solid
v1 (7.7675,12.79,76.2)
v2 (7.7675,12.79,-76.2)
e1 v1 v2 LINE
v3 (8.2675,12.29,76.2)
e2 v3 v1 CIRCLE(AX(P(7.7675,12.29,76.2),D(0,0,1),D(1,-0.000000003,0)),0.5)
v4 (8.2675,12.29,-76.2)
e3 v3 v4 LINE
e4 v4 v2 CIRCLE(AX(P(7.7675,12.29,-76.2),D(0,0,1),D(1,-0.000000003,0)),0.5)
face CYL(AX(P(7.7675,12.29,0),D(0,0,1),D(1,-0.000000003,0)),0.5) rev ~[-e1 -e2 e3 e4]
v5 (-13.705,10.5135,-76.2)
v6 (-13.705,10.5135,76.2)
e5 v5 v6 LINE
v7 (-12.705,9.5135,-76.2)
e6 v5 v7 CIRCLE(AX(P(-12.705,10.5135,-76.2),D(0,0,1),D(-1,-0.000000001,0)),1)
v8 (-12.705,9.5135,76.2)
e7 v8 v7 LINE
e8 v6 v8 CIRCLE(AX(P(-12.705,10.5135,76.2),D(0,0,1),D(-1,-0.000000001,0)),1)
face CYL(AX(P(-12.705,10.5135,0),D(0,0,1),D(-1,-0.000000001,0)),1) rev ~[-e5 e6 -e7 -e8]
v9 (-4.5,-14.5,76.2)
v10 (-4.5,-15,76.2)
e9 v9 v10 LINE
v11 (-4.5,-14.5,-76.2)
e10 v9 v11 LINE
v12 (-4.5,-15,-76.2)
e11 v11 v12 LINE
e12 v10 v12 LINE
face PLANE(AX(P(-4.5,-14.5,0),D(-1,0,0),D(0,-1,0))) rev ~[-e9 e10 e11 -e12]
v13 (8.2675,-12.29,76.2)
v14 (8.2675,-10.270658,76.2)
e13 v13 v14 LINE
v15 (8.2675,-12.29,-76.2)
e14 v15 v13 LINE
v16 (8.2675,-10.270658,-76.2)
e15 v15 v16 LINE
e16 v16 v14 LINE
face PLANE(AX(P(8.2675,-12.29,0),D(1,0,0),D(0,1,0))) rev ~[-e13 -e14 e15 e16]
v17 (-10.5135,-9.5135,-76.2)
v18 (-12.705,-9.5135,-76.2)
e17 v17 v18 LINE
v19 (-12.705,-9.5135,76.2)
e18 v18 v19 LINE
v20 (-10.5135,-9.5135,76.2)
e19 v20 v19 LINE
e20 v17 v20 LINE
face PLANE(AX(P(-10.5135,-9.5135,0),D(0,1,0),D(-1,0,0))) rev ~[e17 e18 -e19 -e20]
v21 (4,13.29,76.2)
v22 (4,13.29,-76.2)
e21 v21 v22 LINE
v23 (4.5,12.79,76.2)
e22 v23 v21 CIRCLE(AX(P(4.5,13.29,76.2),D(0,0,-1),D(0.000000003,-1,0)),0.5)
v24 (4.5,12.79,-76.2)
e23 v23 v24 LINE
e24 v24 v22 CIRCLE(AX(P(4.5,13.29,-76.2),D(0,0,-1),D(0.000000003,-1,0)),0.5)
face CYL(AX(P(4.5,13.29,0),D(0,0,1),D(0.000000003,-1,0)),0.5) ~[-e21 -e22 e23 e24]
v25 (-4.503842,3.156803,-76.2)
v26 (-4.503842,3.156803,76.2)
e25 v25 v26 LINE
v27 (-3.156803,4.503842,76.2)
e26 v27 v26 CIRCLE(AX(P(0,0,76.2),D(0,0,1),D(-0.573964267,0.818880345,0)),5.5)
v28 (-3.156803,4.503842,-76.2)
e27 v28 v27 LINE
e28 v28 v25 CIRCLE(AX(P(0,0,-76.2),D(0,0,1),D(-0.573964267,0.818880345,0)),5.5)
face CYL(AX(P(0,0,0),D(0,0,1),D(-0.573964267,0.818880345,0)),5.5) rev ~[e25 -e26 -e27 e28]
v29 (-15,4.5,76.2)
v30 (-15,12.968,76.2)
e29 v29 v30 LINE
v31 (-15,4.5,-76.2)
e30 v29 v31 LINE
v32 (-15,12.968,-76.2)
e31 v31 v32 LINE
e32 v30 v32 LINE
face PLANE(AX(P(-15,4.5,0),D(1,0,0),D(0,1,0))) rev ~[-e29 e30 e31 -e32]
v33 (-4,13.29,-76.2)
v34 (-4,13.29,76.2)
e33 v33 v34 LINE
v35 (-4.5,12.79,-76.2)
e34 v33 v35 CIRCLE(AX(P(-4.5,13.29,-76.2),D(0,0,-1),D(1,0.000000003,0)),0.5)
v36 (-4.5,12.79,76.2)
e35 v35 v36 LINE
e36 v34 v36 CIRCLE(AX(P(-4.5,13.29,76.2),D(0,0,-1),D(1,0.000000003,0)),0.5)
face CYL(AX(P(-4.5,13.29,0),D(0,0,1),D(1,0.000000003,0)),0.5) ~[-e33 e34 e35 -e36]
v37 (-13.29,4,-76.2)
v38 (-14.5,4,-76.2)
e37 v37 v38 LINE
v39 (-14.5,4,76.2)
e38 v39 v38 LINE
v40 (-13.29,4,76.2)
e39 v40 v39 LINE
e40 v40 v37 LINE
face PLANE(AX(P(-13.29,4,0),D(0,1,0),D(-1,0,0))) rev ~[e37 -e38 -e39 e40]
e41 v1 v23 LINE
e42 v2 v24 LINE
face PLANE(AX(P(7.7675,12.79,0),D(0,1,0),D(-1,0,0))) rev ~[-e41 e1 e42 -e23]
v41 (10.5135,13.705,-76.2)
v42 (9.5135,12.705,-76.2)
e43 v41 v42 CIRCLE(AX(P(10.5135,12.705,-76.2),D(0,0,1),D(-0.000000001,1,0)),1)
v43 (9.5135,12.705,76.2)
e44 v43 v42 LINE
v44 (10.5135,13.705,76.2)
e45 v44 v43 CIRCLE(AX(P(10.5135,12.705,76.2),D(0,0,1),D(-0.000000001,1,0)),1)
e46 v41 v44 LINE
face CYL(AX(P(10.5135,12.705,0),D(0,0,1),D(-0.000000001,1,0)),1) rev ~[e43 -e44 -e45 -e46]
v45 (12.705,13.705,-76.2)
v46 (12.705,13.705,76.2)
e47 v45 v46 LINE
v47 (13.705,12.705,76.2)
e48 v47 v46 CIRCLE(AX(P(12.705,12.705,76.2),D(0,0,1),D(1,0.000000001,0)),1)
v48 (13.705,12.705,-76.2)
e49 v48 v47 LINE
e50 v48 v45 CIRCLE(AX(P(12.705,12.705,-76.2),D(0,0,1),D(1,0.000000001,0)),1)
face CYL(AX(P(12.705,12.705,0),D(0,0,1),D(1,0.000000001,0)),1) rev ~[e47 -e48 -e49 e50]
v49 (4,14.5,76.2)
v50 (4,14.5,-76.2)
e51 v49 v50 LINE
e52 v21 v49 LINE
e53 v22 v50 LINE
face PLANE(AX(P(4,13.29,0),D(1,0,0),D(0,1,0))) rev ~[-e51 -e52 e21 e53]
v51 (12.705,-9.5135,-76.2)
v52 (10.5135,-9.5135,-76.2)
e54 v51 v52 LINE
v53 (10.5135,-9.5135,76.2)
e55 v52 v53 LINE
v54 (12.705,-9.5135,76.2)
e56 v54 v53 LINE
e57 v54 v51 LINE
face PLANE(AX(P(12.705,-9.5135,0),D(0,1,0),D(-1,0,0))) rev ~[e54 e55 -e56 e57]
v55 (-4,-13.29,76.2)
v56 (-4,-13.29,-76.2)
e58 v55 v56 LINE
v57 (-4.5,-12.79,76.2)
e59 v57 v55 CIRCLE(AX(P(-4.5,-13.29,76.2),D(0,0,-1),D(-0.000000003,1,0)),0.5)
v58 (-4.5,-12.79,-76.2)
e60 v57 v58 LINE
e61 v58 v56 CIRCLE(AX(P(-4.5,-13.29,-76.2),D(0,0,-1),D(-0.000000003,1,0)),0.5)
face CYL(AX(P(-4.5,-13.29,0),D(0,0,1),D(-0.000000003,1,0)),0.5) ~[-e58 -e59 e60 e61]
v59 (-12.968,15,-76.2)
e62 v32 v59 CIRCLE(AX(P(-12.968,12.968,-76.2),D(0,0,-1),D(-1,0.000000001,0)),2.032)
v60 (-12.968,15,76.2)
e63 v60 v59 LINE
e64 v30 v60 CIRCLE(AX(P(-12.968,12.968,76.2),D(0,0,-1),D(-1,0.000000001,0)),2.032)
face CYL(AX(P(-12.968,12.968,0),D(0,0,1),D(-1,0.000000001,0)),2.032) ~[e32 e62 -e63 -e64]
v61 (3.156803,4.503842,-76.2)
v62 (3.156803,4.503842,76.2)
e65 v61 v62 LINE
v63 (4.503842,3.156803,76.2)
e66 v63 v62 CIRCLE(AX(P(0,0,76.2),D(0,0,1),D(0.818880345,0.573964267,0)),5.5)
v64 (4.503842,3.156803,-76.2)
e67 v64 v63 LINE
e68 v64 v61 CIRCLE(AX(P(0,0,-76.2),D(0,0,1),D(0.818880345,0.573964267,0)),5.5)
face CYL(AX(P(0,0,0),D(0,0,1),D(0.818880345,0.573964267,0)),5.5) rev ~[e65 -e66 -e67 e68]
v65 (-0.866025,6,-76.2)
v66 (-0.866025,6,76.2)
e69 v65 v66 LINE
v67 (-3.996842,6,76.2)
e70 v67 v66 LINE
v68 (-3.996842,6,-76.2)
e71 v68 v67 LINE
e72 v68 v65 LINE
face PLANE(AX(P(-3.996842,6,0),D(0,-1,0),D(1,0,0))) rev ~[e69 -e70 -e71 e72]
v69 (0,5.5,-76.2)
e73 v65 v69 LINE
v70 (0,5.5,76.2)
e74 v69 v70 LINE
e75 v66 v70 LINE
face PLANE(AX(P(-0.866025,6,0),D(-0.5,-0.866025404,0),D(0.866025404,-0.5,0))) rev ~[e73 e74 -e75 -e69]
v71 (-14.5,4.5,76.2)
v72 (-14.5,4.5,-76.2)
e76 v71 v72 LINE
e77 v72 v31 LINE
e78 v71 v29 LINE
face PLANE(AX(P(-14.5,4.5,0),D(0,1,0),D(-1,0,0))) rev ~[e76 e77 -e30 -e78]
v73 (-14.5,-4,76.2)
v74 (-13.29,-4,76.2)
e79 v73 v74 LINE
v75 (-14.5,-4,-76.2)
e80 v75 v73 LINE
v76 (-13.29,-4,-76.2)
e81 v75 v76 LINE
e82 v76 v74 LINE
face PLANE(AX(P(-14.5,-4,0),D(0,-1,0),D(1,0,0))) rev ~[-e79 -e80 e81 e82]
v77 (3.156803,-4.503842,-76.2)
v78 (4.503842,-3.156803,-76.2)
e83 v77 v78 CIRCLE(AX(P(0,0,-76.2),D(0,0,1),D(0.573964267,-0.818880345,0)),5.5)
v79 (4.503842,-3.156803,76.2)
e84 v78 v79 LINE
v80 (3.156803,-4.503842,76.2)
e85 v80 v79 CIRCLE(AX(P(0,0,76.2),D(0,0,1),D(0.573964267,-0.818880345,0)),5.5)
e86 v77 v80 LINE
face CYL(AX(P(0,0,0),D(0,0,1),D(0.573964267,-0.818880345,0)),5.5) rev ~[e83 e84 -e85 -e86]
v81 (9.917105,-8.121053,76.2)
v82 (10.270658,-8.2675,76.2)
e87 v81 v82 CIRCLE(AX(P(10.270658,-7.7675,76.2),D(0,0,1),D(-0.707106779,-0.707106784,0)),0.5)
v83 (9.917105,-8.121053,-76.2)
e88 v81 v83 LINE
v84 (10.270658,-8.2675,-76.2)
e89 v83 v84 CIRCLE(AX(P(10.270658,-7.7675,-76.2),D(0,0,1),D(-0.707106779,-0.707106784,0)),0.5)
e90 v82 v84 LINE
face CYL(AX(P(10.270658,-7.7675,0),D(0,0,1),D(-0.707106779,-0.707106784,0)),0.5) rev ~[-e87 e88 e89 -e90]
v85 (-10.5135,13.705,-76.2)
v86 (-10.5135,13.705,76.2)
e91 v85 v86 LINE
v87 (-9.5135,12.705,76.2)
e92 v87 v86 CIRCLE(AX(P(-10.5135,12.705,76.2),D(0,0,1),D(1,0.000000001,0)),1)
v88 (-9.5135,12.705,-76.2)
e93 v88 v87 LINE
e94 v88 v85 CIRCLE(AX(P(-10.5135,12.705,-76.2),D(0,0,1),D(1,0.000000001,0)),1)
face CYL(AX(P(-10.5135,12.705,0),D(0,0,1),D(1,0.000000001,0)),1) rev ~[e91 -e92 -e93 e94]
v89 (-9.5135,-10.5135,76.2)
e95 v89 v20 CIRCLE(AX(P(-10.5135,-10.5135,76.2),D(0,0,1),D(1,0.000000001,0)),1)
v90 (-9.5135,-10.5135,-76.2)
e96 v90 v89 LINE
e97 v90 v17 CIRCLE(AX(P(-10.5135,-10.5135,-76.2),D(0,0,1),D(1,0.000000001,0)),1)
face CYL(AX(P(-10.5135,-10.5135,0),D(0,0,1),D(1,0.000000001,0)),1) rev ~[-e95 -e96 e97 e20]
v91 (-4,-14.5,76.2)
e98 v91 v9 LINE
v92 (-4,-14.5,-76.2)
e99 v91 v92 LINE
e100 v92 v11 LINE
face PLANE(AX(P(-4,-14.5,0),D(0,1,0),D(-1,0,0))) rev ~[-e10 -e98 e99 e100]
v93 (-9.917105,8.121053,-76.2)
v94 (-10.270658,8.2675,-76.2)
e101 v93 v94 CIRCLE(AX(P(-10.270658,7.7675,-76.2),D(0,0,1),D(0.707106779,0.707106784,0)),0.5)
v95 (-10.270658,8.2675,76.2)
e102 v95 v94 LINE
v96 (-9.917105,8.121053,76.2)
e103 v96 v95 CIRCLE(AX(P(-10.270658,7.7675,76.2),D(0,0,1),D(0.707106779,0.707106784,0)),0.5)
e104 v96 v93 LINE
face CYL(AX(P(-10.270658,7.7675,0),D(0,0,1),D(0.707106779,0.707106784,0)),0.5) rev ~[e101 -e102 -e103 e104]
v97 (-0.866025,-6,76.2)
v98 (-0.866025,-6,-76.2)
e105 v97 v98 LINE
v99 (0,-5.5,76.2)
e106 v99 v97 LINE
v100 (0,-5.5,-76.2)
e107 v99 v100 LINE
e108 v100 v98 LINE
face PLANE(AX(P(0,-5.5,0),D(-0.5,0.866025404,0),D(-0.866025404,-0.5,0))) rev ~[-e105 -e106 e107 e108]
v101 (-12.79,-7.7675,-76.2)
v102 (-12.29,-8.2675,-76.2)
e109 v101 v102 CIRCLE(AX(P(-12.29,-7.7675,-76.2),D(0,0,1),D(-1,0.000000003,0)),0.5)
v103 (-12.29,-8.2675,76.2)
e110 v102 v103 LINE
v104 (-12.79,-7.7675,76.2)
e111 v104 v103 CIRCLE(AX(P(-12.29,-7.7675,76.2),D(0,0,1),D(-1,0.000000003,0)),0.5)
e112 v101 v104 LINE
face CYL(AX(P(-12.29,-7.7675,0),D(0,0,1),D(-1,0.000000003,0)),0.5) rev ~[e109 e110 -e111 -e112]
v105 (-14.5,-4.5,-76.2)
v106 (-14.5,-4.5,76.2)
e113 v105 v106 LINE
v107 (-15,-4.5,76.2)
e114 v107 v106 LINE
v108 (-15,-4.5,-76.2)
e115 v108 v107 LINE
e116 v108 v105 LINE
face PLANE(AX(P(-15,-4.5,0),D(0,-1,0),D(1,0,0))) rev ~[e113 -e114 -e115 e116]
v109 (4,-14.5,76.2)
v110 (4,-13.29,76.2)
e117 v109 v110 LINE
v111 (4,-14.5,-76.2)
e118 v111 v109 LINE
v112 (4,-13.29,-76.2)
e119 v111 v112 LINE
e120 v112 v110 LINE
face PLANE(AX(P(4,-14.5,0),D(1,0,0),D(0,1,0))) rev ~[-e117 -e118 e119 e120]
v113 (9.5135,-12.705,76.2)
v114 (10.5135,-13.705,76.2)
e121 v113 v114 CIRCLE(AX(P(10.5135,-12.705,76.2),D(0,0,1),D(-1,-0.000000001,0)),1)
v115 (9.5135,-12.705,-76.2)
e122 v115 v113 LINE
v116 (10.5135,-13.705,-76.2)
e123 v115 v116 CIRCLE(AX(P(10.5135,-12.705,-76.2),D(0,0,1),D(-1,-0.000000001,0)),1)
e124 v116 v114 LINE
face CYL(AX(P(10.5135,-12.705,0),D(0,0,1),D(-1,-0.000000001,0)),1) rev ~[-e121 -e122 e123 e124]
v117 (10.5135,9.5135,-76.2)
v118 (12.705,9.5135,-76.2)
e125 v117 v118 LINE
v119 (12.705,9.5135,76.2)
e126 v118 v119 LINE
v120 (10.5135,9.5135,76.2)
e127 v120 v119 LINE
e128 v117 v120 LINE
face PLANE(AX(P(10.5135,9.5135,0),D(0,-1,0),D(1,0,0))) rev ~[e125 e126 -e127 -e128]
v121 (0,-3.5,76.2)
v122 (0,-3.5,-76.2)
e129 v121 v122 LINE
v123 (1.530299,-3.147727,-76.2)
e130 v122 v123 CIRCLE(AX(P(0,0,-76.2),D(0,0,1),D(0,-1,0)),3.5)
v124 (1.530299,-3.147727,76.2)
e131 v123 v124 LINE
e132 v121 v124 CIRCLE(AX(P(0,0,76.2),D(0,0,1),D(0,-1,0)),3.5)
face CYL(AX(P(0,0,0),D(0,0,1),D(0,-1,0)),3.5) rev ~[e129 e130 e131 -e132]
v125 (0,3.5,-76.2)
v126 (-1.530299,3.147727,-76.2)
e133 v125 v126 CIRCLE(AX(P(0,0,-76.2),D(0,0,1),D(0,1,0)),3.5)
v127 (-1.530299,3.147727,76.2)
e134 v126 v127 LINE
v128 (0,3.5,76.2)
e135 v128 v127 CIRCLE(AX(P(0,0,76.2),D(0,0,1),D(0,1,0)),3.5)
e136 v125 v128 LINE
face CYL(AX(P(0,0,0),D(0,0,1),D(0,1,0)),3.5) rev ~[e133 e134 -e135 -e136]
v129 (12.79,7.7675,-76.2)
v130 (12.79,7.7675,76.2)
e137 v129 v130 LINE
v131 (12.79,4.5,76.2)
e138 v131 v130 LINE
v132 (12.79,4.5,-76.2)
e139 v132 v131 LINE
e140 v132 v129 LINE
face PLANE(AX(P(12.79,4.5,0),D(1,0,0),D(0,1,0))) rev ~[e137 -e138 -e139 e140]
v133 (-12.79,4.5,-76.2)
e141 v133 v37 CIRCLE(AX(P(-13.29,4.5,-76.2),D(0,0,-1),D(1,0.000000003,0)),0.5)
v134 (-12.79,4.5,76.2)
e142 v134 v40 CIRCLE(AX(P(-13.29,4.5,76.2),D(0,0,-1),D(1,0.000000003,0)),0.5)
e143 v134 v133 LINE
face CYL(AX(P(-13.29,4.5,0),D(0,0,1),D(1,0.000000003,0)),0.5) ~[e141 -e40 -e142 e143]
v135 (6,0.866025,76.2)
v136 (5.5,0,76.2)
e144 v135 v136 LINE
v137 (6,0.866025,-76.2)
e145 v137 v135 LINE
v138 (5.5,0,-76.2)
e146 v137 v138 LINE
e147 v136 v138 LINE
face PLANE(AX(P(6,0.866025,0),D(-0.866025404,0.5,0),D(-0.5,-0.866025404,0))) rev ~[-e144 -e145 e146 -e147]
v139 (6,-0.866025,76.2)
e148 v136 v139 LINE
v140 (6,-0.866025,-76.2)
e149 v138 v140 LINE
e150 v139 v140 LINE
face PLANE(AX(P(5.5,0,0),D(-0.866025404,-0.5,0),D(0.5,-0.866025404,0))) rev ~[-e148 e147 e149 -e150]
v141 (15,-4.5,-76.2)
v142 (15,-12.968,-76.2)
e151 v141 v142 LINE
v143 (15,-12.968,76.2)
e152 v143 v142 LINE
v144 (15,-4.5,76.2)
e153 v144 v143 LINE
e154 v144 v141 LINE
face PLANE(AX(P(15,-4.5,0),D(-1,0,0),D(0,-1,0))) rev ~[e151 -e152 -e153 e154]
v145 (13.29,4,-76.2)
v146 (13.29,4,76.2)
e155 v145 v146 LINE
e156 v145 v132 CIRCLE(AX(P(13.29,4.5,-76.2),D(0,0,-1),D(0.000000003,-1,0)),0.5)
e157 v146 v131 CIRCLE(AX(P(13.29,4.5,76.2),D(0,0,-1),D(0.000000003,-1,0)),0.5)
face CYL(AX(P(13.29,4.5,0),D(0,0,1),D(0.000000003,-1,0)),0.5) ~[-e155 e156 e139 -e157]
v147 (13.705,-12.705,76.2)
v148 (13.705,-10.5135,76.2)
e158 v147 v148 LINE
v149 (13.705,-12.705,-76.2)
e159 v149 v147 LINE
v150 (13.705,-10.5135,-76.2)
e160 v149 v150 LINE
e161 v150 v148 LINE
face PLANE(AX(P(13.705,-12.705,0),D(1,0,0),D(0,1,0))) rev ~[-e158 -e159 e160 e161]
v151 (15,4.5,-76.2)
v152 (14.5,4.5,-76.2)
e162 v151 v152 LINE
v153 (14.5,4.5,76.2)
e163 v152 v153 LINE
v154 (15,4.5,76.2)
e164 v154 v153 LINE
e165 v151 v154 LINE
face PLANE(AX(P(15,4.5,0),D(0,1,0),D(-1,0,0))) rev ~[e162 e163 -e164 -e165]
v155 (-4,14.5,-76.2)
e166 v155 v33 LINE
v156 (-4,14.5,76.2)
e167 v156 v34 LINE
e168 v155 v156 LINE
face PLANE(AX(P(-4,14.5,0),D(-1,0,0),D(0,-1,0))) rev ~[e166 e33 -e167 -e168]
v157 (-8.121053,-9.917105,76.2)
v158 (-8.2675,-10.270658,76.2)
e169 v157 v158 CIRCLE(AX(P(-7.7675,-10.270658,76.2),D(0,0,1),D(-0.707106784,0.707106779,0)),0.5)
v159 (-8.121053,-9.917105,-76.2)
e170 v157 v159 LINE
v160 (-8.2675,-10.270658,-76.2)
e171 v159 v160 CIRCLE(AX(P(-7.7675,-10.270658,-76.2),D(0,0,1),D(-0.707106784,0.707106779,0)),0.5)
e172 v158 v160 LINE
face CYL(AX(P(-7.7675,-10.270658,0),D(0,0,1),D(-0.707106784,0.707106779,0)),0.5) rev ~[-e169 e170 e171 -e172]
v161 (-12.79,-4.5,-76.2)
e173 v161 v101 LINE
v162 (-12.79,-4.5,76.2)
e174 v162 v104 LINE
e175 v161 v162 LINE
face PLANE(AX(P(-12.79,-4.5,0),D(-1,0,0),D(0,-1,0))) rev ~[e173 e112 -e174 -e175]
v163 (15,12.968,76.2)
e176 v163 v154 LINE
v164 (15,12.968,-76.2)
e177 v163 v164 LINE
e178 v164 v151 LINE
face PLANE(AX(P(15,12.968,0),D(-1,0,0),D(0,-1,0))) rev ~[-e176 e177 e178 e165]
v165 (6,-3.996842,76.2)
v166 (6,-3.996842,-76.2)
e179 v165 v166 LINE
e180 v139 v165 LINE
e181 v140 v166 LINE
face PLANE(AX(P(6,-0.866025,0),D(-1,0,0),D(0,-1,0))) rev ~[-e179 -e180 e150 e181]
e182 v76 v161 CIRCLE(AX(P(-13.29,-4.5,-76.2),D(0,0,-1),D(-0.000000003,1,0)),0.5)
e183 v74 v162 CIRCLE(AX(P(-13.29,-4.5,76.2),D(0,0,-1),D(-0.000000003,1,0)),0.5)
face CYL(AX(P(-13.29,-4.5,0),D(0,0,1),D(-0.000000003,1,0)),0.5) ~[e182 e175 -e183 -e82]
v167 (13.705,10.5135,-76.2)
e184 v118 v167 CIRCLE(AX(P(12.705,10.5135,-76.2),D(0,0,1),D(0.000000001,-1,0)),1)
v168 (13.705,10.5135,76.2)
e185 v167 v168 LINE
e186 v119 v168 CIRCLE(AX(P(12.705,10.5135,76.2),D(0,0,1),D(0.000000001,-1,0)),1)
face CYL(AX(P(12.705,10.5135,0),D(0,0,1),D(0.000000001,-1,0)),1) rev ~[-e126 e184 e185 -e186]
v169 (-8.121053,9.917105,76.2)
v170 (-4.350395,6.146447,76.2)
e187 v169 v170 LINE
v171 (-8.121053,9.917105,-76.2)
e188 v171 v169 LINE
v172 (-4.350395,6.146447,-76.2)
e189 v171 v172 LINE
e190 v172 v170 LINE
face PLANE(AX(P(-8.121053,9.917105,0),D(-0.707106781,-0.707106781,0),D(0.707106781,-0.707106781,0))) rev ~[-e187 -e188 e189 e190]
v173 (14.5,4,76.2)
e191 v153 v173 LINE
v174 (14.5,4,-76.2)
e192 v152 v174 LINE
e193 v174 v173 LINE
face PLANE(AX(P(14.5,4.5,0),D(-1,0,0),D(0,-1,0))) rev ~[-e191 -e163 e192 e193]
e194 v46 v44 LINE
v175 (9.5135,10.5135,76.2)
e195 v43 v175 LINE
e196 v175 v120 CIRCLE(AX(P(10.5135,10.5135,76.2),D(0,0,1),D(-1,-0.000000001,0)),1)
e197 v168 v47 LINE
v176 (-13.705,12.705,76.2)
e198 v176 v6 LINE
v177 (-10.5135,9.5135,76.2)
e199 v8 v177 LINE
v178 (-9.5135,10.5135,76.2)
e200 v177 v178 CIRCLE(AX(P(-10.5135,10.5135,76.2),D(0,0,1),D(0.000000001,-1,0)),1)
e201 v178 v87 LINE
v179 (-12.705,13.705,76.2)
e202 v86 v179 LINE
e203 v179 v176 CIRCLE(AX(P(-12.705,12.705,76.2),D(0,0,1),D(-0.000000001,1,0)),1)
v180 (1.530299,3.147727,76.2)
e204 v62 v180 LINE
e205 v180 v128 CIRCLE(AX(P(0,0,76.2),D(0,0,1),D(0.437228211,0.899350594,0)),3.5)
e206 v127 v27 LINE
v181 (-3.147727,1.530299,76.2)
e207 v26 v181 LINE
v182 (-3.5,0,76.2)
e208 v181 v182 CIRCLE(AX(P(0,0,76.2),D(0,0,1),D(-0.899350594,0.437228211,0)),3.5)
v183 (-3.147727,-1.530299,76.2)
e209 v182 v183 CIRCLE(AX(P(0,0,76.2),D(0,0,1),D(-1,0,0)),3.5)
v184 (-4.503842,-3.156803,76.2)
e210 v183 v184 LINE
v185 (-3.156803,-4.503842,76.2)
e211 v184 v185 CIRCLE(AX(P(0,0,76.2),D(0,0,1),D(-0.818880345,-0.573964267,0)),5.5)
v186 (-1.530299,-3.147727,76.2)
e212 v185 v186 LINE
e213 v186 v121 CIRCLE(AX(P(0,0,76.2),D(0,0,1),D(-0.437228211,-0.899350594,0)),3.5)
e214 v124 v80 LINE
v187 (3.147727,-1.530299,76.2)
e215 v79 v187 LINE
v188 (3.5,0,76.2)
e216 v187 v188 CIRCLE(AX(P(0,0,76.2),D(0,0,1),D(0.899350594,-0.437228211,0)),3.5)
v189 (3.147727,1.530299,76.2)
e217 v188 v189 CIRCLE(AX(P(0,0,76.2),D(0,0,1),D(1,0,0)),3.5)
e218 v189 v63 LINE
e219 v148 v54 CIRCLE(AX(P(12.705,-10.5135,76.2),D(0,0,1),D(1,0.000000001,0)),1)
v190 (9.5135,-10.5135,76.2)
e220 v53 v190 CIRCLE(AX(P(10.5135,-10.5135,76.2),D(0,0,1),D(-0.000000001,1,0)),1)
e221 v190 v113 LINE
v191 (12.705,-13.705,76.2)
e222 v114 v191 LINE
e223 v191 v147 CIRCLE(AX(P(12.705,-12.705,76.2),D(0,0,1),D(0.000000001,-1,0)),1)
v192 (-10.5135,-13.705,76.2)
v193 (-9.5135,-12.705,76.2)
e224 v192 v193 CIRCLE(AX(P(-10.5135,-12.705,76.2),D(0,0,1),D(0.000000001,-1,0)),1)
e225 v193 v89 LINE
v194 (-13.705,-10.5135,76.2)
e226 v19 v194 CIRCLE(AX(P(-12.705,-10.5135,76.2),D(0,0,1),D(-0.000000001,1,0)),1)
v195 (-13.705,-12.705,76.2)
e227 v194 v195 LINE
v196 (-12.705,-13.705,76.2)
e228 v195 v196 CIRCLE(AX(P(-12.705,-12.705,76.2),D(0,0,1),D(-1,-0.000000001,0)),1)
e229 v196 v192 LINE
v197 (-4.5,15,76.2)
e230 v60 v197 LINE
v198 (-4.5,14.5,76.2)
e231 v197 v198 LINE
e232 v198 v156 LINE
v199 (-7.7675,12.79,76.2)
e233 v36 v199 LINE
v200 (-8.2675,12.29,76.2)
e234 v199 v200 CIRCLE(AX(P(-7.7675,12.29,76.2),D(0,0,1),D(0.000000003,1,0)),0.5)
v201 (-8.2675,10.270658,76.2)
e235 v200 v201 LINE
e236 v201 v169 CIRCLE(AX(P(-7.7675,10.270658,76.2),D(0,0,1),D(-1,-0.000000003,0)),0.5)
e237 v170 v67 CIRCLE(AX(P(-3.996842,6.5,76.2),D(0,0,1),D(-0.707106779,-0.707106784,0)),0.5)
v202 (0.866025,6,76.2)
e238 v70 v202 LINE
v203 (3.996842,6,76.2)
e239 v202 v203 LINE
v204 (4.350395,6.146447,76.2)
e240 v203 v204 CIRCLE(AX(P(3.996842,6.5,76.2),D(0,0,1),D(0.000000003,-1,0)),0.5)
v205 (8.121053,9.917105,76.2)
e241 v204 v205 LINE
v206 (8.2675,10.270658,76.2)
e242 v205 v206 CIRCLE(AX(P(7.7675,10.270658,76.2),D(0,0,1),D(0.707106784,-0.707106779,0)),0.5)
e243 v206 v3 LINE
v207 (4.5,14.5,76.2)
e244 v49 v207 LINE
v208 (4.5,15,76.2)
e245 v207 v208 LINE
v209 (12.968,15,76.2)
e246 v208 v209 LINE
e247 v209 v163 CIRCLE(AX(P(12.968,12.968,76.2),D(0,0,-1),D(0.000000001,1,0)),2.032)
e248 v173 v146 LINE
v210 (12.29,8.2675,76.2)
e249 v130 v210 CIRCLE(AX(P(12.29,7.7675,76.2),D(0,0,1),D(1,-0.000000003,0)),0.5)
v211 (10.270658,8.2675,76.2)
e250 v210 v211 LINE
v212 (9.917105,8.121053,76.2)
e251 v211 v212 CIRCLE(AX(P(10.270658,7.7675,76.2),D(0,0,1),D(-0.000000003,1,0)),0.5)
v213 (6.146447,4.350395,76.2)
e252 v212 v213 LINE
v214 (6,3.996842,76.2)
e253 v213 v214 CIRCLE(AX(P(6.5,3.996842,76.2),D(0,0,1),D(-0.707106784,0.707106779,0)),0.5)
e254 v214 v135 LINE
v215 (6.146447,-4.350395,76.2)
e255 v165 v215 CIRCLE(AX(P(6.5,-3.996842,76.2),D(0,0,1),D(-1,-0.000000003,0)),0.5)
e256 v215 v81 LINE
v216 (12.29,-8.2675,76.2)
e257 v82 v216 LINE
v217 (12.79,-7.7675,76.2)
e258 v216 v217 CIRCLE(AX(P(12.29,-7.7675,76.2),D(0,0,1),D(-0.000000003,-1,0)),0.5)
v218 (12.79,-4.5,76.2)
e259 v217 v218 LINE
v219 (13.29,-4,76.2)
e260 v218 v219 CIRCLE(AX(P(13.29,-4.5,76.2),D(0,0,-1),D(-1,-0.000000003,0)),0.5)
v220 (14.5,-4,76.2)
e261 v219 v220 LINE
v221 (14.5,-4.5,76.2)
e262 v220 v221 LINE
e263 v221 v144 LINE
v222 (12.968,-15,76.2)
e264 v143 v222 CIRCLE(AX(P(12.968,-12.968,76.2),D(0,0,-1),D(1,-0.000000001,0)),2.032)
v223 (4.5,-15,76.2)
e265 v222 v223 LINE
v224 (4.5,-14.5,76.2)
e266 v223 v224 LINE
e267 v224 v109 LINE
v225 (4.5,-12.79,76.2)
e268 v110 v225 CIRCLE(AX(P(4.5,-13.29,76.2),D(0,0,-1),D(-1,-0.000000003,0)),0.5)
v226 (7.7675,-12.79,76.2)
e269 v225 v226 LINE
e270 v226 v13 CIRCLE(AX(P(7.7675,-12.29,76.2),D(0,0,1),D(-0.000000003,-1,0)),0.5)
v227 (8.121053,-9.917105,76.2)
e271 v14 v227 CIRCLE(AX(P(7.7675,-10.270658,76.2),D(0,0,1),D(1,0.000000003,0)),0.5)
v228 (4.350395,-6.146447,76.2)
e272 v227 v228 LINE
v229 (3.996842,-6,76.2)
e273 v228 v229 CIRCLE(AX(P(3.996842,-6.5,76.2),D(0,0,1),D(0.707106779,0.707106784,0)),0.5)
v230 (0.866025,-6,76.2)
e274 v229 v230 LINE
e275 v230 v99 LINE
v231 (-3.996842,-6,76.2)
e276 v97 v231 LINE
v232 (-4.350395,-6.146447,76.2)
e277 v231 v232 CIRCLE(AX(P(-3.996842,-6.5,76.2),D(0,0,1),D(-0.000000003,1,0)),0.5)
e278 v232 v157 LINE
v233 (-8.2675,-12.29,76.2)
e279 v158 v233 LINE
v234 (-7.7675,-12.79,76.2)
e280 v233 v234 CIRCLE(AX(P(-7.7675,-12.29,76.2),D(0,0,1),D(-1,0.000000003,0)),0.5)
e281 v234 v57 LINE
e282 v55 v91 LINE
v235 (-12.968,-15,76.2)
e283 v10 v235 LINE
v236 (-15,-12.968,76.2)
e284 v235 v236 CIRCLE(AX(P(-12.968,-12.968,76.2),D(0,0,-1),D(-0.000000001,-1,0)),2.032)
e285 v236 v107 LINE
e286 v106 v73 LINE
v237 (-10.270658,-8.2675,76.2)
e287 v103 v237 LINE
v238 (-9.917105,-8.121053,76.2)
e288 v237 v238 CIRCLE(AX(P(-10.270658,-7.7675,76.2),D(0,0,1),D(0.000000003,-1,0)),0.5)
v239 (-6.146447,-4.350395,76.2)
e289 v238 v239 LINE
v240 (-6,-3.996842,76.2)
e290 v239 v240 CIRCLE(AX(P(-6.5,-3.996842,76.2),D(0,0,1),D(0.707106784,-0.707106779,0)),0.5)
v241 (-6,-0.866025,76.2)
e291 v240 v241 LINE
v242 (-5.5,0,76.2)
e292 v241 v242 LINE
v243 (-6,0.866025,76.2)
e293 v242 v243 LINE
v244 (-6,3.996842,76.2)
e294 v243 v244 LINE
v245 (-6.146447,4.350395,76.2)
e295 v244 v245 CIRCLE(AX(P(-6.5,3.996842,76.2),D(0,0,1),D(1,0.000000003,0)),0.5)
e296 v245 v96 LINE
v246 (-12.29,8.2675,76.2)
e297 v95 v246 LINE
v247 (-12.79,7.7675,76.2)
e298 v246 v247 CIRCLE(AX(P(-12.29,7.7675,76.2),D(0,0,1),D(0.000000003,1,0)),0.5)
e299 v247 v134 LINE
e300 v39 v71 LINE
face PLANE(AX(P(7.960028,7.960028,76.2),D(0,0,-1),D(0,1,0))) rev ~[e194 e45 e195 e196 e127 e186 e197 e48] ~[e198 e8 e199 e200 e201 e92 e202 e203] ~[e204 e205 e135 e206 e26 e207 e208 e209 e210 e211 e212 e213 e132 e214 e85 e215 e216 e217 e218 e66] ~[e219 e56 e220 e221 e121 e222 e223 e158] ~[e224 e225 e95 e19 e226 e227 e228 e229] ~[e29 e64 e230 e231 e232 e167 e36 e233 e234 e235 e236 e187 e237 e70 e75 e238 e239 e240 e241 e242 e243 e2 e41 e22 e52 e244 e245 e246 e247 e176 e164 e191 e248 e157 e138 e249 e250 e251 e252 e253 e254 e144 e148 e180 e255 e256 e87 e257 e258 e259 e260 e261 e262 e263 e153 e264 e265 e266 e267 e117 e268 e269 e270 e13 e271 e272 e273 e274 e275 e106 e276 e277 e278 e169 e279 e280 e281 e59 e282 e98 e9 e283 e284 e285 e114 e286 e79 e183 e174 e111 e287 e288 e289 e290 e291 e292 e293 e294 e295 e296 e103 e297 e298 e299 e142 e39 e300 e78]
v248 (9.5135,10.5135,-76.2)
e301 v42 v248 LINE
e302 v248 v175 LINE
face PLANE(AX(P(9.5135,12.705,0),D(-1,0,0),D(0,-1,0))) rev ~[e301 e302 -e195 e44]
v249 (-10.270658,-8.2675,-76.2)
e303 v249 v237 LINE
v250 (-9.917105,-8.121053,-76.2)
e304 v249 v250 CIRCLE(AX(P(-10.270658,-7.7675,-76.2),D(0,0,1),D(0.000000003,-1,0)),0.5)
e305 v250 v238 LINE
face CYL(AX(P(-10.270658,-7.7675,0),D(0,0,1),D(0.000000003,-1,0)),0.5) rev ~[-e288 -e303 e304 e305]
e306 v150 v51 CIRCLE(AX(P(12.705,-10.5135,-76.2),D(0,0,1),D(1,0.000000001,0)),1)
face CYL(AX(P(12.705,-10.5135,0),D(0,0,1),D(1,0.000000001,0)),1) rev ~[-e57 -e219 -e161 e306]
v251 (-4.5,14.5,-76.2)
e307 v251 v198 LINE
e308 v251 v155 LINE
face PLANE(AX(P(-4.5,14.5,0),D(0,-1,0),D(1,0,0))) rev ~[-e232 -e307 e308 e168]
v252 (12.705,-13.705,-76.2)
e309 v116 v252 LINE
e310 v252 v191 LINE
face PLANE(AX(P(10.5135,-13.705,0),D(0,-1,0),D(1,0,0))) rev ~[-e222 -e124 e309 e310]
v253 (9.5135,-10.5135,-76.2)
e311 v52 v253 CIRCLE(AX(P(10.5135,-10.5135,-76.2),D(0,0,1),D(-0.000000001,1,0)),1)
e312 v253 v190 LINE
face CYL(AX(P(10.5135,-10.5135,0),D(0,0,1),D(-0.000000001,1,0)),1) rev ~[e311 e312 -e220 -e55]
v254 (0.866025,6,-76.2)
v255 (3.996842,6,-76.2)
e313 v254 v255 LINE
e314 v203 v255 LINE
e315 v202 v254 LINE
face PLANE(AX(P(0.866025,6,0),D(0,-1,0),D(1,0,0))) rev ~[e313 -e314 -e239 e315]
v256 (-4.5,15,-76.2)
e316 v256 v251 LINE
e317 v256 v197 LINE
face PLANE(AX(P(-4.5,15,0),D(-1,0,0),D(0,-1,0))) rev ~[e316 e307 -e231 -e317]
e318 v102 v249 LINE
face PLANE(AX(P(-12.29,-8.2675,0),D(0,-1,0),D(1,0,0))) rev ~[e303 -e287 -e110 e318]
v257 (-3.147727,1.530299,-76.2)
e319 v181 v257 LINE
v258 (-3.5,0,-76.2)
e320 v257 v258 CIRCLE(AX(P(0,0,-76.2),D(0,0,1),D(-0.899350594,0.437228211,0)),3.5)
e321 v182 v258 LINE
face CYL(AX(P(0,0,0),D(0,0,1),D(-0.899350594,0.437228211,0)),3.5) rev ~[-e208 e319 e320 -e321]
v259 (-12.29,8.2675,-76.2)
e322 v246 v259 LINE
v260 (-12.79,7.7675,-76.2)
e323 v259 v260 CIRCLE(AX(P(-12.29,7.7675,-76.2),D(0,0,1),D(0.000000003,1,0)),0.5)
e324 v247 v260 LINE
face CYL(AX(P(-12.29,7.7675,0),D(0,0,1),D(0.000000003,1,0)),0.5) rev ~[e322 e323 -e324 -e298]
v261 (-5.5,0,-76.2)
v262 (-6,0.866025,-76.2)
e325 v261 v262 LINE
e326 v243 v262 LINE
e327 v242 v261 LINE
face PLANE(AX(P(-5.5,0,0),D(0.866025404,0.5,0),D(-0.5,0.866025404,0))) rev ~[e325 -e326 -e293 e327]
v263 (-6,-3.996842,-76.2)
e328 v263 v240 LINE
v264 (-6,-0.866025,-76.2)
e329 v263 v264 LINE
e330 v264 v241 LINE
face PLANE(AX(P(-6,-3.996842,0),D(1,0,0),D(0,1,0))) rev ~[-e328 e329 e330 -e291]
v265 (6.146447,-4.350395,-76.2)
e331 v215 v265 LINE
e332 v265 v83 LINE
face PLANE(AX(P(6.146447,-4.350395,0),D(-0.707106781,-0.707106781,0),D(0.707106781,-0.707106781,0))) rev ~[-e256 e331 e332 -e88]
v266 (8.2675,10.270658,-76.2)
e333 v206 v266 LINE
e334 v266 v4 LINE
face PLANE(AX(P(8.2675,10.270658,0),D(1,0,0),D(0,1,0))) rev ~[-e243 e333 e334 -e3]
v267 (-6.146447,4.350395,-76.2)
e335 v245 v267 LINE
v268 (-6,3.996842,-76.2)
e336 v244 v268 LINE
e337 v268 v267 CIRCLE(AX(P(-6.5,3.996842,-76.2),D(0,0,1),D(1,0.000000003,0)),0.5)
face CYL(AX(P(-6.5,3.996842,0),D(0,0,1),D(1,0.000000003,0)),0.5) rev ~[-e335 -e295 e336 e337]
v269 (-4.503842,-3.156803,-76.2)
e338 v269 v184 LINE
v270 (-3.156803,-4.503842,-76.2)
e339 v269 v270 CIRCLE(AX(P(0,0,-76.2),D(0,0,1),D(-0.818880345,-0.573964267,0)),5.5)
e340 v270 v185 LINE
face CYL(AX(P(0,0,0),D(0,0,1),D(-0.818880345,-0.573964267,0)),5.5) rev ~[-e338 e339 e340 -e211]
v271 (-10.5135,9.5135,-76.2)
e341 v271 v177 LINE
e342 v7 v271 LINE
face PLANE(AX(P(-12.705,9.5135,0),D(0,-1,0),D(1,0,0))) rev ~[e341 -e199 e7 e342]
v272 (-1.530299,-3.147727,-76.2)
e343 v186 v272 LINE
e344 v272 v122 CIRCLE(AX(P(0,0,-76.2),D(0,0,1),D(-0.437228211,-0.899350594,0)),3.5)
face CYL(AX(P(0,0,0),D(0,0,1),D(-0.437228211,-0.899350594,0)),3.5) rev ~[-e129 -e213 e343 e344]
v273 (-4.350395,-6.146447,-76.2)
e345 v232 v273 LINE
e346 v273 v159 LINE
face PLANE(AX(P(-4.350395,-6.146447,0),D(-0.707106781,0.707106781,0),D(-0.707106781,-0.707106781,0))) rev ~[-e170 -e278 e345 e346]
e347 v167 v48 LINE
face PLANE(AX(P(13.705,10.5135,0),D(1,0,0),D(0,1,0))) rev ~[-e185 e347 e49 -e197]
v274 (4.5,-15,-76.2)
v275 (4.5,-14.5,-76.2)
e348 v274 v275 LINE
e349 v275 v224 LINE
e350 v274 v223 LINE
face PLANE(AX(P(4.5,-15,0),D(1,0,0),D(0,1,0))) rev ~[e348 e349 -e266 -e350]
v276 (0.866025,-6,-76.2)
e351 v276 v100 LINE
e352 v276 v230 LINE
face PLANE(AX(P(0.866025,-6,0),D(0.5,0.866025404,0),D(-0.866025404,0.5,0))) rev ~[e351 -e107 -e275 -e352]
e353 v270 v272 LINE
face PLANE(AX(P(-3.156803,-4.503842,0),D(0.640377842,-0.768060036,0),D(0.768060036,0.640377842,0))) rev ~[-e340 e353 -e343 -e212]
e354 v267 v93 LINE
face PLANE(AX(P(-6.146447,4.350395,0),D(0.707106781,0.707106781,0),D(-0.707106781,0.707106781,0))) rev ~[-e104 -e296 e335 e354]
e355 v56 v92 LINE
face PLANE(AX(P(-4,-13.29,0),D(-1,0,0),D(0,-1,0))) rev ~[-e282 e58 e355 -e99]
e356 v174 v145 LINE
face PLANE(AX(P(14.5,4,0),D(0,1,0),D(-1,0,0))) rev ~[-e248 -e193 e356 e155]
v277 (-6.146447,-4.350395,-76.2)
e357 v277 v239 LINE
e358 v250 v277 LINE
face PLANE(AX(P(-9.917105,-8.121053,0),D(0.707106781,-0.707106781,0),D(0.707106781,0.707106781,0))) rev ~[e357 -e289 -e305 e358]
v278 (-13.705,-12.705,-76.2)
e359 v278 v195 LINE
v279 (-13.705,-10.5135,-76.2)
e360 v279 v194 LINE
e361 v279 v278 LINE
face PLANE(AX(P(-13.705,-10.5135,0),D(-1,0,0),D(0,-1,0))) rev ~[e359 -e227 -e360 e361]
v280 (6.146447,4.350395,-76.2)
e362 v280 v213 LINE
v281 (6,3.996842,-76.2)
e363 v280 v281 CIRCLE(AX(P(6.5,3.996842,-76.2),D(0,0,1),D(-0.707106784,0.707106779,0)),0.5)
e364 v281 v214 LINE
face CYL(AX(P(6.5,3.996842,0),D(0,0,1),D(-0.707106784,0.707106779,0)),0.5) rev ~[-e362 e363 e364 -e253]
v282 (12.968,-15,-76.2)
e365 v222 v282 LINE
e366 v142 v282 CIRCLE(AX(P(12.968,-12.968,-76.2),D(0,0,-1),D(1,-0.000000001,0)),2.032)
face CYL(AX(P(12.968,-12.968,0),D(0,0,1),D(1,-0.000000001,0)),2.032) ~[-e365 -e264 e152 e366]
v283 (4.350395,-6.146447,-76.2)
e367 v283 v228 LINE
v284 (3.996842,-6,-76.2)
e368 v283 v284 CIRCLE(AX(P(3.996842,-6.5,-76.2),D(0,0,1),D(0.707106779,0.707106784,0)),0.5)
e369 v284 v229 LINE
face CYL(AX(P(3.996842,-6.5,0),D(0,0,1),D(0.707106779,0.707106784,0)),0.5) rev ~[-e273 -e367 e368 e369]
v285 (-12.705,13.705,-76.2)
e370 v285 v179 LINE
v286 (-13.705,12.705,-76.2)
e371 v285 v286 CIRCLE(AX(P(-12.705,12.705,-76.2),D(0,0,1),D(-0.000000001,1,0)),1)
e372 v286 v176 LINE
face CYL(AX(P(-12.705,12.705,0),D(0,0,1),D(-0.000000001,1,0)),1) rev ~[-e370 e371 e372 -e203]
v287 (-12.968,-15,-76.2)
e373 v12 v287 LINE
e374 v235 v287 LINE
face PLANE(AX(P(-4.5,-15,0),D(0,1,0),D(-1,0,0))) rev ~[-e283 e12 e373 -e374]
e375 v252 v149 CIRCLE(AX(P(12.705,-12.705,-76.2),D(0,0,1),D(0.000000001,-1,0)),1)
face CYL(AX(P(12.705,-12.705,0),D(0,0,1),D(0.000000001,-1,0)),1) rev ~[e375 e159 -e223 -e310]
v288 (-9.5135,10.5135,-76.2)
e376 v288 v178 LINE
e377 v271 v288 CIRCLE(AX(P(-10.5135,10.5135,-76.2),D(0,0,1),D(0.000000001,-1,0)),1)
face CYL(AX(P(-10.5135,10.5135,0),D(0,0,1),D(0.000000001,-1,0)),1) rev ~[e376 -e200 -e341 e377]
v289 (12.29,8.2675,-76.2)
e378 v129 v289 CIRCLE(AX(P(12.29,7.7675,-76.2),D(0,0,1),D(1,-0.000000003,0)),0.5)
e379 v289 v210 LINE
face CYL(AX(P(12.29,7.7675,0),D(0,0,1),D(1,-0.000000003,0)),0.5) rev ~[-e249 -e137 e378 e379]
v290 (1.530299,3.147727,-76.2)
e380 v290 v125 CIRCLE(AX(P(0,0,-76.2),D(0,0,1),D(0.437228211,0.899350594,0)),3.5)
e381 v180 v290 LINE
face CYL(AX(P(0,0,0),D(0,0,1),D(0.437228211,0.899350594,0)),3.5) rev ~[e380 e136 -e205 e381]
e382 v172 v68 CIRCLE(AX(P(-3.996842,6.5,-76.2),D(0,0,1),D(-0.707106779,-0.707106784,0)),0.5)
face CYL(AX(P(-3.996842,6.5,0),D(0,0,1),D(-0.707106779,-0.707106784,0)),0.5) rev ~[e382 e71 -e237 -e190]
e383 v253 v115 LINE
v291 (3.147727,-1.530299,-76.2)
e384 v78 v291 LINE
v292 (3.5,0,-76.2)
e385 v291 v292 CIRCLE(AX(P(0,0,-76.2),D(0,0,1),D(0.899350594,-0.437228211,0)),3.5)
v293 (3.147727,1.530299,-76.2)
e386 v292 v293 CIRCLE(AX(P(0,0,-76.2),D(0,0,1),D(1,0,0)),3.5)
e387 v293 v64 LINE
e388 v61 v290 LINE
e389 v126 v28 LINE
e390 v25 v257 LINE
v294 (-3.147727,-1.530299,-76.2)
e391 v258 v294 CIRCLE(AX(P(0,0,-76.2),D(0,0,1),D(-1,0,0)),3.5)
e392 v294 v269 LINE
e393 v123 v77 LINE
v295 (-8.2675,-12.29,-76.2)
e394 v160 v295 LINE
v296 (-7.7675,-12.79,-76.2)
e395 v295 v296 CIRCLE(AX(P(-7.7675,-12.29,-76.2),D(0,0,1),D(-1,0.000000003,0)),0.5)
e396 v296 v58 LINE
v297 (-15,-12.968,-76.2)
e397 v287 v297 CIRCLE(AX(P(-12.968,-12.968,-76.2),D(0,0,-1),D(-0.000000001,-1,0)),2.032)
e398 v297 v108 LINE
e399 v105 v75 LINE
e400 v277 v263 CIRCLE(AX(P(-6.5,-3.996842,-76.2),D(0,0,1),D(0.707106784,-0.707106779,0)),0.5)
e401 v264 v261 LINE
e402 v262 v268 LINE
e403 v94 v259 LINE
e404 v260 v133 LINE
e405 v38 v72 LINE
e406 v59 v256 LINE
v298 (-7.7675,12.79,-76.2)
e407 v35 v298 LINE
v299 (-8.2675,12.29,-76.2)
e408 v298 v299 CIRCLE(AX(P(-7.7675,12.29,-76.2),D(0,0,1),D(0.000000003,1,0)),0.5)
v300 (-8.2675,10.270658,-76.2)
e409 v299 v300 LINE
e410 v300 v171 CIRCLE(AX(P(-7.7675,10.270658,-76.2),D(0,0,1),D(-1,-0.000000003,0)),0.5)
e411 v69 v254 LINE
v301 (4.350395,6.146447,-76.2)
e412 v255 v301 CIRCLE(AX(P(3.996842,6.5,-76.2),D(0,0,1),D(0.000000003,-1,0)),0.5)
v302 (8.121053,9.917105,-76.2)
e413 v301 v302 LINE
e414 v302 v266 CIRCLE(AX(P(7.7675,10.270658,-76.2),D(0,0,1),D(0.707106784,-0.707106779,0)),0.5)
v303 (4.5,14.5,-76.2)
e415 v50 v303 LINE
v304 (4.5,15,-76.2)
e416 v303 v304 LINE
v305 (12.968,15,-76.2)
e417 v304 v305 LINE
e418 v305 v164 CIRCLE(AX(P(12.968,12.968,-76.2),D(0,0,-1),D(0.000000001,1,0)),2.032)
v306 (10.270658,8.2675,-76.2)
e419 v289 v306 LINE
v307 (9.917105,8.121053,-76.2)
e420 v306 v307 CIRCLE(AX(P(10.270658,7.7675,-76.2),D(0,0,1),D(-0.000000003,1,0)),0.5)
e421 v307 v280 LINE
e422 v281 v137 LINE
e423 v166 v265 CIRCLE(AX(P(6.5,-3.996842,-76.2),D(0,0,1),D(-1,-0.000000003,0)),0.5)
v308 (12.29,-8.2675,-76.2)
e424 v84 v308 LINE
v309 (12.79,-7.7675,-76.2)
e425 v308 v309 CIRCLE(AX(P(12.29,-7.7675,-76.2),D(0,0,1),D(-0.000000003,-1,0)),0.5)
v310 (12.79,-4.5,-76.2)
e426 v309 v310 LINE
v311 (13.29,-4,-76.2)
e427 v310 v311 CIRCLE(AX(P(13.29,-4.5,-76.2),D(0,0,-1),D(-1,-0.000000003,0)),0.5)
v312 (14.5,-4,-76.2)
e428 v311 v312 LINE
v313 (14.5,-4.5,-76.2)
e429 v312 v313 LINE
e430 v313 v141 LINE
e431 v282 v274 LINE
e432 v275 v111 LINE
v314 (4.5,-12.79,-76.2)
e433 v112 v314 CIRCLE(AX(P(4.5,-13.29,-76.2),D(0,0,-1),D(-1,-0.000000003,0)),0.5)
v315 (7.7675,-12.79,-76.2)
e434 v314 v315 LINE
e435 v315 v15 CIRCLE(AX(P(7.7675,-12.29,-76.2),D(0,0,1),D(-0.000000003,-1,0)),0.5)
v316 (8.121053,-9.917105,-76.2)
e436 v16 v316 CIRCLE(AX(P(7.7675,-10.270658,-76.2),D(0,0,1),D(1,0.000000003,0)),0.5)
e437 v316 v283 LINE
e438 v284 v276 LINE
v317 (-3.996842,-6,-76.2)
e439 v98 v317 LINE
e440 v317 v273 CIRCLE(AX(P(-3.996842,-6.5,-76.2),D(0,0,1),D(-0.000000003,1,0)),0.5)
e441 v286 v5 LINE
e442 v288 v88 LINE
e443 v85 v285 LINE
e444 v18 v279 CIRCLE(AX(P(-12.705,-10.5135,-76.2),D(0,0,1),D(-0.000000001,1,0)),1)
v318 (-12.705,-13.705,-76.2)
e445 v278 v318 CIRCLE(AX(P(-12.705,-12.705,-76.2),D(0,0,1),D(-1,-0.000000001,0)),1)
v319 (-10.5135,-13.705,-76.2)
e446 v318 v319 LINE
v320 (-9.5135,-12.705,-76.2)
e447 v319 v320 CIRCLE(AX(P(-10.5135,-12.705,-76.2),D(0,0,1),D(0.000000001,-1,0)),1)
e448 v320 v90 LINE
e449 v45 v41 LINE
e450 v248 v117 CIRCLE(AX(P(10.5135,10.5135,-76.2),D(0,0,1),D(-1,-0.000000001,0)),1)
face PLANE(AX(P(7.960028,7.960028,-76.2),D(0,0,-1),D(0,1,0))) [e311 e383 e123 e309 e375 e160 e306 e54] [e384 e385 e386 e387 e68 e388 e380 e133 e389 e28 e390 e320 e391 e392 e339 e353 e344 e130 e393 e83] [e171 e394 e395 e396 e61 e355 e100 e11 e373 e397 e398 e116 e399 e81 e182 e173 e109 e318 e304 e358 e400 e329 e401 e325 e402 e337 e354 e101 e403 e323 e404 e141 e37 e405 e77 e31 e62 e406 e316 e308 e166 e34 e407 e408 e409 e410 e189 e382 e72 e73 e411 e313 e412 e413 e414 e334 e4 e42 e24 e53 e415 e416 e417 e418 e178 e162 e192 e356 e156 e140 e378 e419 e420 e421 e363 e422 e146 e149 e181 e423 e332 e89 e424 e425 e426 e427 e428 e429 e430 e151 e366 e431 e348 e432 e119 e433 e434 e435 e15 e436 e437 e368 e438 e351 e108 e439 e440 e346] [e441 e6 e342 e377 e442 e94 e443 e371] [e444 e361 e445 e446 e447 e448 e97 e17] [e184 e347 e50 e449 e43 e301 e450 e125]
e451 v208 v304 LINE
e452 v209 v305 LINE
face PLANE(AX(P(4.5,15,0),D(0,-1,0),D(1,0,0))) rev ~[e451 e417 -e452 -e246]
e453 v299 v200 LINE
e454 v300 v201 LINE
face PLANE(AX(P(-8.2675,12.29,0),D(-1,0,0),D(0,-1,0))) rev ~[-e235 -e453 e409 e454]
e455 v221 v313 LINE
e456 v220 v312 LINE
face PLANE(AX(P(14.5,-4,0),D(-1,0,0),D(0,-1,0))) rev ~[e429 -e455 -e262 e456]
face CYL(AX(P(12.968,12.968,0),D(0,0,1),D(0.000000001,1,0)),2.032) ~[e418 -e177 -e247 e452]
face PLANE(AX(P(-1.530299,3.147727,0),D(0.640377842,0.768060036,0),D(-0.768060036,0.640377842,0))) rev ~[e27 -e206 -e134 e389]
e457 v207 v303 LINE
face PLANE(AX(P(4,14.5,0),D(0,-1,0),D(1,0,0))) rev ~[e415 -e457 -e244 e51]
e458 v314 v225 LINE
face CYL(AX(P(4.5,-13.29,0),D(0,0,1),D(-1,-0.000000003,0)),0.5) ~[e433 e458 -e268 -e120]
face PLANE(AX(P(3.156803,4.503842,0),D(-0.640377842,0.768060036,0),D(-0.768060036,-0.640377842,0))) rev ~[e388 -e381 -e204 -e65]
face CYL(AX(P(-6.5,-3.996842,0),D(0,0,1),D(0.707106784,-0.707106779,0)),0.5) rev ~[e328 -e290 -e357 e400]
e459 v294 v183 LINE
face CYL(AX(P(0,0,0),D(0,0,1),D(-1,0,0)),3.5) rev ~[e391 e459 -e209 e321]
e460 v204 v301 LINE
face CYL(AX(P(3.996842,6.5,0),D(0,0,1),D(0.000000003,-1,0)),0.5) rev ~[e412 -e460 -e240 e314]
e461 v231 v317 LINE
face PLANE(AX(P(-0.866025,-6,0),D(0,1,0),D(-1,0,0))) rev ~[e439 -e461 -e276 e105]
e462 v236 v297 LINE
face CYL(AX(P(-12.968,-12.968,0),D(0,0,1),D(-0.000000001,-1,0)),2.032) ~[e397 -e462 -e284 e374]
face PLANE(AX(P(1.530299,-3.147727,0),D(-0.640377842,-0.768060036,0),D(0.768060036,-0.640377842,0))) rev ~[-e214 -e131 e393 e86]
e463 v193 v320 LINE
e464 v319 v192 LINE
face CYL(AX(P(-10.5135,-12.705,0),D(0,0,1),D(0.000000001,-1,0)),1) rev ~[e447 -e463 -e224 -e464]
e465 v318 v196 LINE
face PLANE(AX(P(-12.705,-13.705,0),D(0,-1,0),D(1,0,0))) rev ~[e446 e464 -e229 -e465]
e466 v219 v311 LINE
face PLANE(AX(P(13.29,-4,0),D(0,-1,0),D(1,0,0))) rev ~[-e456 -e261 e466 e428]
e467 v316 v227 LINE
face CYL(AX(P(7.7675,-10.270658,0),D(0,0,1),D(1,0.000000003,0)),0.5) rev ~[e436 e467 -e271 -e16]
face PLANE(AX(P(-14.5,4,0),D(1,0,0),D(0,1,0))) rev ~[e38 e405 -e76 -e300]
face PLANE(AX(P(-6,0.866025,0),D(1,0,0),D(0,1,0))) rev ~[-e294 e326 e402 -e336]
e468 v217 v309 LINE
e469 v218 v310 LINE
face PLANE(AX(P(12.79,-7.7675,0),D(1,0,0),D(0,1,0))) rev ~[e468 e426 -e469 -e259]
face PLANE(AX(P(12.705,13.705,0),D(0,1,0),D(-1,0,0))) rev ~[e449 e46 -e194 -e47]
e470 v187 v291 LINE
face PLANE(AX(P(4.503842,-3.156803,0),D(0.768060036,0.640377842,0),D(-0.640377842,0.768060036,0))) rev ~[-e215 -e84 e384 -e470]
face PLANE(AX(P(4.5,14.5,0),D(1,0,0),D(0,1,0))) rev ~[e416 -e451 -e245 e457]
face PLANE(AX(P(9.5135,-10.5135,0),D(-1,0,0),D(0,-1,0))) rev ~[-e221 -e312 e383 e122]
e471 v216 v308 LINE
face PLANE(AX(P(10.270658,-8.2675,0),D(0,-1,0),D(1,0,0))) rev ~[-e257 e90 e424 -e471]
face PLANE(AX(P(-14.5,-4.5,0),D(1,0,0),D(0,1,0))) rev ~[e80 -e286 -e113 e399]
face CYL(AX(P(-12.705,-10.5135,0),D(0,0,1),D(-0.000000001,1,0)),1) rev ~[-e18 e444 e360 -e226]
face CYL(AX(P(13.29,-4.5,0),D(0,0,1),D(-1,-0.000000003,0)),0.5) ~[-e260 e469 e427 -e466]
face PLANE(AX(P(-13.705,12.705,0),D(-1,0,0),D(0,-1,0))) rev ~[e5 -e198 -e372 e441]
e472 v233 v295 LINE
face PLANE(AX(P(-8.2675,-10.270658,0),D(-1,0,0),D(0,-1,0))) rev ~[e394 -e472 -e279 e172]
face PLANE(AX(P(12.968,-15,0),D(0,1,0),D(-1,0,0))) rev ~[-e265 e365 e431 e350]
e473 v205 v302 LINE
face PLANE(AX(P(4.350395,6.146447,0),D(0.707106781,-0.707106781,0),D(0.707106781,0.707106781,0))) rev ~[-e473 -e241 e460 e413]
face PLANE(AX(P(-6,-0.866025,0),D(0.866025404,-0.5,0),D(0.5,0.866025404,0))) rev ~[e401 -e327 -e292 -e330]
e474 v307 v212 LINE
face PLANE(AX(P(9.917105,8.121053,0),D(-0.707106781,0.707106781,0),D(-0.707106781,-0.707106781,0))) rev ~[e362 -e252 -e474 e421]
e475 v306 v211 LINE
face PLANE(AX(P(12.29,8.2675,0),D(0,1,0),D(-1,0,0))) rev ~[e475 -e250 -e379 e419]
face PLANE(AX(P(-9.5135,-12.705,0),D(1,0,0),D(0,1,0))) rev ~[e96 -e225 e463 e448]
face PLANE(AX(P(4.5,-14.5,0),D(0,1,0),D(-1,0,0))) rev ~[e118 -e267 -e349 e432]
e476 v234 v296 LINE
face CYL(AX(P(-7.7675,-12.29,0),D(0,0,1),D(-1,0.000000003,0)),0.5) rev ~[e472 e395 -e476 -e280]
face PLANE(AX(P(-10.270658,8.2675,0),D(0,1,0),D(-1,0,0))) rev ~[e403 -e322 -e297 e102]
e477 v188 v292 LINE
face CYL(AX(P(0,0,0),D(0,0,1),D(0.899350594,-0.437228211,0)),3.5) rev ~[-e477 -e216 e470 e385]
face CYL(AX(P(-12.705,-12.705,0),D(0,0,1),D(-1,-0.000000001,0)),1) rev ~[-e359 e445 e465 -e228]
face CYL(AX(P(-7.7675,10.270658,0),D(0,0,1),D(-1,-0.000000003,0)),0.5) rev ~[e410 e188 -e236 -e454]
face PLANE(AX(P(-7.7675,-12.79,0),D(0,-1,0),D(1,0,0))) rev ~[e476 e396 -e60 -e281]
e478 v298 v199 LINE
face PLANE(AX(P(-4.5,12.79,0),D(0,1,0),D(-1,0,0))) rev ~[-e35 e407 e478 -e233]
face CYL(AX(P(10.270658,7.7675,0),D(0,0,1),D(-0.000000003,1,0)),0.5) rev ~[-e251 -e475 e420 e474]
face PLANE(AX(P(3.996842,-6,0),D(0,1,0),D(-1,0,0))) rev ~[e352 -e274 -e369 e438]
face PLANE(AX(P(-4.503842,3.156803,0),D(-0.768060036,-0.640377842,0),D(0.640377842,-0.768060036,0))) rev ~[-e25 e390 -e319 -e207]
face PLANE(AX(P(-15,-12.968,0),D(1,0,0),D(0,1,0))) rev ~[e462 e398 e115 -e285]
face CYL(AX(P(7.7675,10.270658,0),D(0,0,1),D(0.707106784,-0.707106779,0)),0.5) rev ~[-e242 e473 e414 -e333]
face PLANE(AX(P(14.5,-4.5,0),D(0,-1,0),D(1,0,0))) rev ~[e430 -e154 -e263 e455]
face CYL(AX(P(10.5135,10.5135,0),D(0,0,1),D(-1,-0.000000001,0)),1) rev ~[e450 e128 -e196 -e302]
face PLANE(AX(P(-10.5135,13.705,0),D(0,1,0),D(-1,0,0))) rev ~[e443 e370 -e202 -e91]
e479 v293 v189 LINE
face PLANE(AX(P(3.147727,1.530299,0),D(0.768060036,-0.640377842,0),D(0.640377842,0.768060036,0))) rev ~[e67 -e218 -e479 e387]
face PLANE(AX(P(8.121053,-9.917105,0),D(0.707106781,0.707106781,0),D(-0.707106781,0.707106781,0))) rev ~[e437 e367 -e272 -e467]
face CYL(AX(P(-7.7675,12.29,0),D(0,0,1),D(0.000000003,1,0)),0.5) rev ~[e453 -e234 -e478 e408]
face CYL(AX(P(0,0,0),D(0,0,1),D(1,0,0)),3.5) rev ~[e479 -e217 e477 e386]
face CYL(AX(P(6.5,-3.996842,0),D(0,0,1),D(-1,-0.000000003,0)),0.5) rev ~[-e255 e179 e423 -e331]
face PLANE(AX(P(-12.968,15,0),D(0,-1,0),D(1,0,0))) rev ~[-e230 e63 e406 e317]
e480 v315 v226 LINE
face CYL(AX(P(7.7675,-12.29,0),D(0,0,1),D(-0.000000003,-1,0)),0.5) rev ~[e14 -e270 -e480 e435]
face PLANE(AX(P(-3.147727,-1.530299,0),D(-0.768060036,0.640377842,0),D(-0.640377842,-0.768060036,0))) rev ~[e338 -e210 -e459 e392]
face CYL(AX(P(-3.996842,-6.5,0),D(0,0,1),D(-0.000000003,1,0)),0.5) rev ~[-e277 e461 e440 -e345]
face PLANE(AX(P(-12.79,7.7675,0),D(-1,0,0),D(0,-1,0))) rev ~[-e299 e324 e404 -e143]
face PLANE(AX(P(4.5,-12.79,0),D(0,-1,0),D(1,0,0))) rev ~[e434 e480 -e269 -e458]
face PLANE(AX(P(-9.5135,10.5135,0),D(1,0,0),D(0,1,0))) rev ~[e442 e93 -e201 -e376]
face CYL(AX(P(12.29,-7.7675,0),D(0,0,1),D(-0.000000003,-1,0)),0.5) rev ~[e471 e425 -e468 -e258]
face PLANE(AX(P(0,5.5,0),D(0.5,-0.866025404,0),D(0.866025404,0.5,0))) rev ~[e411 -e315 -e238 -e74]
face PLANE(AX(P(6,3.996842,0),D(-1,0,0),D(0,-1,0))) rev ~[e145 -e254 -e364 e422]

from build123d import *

# Parameters (mm, degrees)
BOSS_EXTRUDE1_DEPTH = 76.2
CIRPATTERN1_COUNT   = 4


with BuildPart() as part:
    # Sketch3 → Boss-Extrude1 (new body, symmetric)
    with BuildSketch(Plane.XY):
        with BuildLine():
            Line((-4.503841895, 3.156803476), (-3.14772708, 1.530298739))
            ThreePointArc((-3.14772708, 1.530298739), (-3.410794979, 0.785160882), (-3.5, 0))
            Line((-3.5, 0), (-5.5, 0))
            Line((-5.5, 0), (-6, 0.866025404))
            Line((-6, 0.866025404), (-6, 3.996841995))
            ThreePointArc((-6, 3.996841995), (-6.038060234, 4.188183711), (-6.146446609, 4.350395385))
            Line((-6.146446609, 4.350395385), (-9.917104615, 8.121053391))
            ThreePointArc((-9.917104615, 8.121053391), (-10.079316289, 8.229439766), (-10.270658005, 8.2675))
            Line((-10.270658005, 8.2675), (-12.29, 8.2675))
            ThreePointArc((-12.29, 8.2675), (-12.643553391, 8.121053391), (-12.79, 7.7675))
            Line((-12.79, 7.7675), (-12.79, 4.5))
            ThreePointArc((-12.79, 4.5), (-12.936446609, 4.146446609), (-13.29, 4))
            Line((-13.29, 4), (-14.5, 4))
            Line((-14.5, 4), (-14.5, 4.5))
            Line((-14.5, 4.5), (-15, 4.5))
            Line((-15, 4.5), (-15, 12.968))
            ThreePointArc((-15, 12.968), (-14.404840979, 14.404840979), (-12.968, 15))
            Line((-12.968, 15), (-4.5, 15))
            Line((-4.5, 15), (-4.5, 14.5))
            Line((-4.5, 14.5), (-4, 14.5))
            Line((-4, 14.5), (-4, 13.29))
            ThreePointArc((-4, 13.29), (-4.146446609, 12.936446609), (-4.5, 12.79))
            Line((-4.5, 12.79), (-7.7675, 12.79))
            ThreePointArc((-7.7675, 12.79), (-8.121053391, 12.643553391), (-8.2675, 12.29))
            Line((-8.2675, 12.29), (-8.2675, 10.270658005))
            ThreePointArc((-8.2675, 10.270658005), (-8.229439766, 10.079316289), (-8.121053391, 9.917104615))
            Line((-8.121053391, 9.917104615), (-4.350395385, 6.146446609))
            ThreePointArc((-4.350395385, 6.146446609), (-4.188183711, 6.038060234), (-3.996841995, 6))
            Line((-3.996841995, 6), (-0.866025404, 6))
            Line((-0.866025404, 6), (0, 5.5))
            Line((0, 5.5), (0, 3.5))
            ThreePointArc((0, 3.5), (-0.785160882, 3.410794979), (-1.530298739, 3.14772708))
            Line((-1.530298739, 3.14772708), (-3.156803476, 4.503841895))
            ThreePointArc((-3.156803476, 4.503841895), (-3.889087297, 3.889087297), (-4.503841895, 3.156803476))
        make_face()
        with BuildLine():
            Line((-12.705, 9.5135), (-10.5135, 9.5135))
            ThreePointArc((-10.5135, 9.5135), (-9.806393219, 9.806393219), (-9.5135, 10.5135))
            Line((-9.5135, 10.5135), (-9.5135, 12.705))
            ThreePointArc((-9.5135, 12.705), (-9.806393219, 13.412106781), (-10.5135, 13.705))
            Line((-10.5135, 13.705), (-12.705, 13.705))
            ThreePointArc((-12.705, 13.705), (-13.412106781, 13.412106781), (-13.705, 12.705))
            Line((-13.705, 12.705), (-13.705, 10.5135))
            ThreePointArc((-13.705, 10.5135), (-13.412106781, 9.806393219), (-12.705, 9.5135))
        make_face(mode=Mode.SUBTRACT)
    boss_extrude1 = extrude(amount=BOSS_EXTRUDE1_DEPTH, both=True)

    # CirPattern1: Boss-Extrude1 ×4 about axis
    cirpattern1_axis = Axis((0, 0, 0), (0, 0, 1))
    for i in range(1, CIRPATTERN1_COUNT):
        add(boss_extrude1.rotate(cirpattern1_axis, i * 360 / CIRPATTERN1_COUNT))


solid = part.part
